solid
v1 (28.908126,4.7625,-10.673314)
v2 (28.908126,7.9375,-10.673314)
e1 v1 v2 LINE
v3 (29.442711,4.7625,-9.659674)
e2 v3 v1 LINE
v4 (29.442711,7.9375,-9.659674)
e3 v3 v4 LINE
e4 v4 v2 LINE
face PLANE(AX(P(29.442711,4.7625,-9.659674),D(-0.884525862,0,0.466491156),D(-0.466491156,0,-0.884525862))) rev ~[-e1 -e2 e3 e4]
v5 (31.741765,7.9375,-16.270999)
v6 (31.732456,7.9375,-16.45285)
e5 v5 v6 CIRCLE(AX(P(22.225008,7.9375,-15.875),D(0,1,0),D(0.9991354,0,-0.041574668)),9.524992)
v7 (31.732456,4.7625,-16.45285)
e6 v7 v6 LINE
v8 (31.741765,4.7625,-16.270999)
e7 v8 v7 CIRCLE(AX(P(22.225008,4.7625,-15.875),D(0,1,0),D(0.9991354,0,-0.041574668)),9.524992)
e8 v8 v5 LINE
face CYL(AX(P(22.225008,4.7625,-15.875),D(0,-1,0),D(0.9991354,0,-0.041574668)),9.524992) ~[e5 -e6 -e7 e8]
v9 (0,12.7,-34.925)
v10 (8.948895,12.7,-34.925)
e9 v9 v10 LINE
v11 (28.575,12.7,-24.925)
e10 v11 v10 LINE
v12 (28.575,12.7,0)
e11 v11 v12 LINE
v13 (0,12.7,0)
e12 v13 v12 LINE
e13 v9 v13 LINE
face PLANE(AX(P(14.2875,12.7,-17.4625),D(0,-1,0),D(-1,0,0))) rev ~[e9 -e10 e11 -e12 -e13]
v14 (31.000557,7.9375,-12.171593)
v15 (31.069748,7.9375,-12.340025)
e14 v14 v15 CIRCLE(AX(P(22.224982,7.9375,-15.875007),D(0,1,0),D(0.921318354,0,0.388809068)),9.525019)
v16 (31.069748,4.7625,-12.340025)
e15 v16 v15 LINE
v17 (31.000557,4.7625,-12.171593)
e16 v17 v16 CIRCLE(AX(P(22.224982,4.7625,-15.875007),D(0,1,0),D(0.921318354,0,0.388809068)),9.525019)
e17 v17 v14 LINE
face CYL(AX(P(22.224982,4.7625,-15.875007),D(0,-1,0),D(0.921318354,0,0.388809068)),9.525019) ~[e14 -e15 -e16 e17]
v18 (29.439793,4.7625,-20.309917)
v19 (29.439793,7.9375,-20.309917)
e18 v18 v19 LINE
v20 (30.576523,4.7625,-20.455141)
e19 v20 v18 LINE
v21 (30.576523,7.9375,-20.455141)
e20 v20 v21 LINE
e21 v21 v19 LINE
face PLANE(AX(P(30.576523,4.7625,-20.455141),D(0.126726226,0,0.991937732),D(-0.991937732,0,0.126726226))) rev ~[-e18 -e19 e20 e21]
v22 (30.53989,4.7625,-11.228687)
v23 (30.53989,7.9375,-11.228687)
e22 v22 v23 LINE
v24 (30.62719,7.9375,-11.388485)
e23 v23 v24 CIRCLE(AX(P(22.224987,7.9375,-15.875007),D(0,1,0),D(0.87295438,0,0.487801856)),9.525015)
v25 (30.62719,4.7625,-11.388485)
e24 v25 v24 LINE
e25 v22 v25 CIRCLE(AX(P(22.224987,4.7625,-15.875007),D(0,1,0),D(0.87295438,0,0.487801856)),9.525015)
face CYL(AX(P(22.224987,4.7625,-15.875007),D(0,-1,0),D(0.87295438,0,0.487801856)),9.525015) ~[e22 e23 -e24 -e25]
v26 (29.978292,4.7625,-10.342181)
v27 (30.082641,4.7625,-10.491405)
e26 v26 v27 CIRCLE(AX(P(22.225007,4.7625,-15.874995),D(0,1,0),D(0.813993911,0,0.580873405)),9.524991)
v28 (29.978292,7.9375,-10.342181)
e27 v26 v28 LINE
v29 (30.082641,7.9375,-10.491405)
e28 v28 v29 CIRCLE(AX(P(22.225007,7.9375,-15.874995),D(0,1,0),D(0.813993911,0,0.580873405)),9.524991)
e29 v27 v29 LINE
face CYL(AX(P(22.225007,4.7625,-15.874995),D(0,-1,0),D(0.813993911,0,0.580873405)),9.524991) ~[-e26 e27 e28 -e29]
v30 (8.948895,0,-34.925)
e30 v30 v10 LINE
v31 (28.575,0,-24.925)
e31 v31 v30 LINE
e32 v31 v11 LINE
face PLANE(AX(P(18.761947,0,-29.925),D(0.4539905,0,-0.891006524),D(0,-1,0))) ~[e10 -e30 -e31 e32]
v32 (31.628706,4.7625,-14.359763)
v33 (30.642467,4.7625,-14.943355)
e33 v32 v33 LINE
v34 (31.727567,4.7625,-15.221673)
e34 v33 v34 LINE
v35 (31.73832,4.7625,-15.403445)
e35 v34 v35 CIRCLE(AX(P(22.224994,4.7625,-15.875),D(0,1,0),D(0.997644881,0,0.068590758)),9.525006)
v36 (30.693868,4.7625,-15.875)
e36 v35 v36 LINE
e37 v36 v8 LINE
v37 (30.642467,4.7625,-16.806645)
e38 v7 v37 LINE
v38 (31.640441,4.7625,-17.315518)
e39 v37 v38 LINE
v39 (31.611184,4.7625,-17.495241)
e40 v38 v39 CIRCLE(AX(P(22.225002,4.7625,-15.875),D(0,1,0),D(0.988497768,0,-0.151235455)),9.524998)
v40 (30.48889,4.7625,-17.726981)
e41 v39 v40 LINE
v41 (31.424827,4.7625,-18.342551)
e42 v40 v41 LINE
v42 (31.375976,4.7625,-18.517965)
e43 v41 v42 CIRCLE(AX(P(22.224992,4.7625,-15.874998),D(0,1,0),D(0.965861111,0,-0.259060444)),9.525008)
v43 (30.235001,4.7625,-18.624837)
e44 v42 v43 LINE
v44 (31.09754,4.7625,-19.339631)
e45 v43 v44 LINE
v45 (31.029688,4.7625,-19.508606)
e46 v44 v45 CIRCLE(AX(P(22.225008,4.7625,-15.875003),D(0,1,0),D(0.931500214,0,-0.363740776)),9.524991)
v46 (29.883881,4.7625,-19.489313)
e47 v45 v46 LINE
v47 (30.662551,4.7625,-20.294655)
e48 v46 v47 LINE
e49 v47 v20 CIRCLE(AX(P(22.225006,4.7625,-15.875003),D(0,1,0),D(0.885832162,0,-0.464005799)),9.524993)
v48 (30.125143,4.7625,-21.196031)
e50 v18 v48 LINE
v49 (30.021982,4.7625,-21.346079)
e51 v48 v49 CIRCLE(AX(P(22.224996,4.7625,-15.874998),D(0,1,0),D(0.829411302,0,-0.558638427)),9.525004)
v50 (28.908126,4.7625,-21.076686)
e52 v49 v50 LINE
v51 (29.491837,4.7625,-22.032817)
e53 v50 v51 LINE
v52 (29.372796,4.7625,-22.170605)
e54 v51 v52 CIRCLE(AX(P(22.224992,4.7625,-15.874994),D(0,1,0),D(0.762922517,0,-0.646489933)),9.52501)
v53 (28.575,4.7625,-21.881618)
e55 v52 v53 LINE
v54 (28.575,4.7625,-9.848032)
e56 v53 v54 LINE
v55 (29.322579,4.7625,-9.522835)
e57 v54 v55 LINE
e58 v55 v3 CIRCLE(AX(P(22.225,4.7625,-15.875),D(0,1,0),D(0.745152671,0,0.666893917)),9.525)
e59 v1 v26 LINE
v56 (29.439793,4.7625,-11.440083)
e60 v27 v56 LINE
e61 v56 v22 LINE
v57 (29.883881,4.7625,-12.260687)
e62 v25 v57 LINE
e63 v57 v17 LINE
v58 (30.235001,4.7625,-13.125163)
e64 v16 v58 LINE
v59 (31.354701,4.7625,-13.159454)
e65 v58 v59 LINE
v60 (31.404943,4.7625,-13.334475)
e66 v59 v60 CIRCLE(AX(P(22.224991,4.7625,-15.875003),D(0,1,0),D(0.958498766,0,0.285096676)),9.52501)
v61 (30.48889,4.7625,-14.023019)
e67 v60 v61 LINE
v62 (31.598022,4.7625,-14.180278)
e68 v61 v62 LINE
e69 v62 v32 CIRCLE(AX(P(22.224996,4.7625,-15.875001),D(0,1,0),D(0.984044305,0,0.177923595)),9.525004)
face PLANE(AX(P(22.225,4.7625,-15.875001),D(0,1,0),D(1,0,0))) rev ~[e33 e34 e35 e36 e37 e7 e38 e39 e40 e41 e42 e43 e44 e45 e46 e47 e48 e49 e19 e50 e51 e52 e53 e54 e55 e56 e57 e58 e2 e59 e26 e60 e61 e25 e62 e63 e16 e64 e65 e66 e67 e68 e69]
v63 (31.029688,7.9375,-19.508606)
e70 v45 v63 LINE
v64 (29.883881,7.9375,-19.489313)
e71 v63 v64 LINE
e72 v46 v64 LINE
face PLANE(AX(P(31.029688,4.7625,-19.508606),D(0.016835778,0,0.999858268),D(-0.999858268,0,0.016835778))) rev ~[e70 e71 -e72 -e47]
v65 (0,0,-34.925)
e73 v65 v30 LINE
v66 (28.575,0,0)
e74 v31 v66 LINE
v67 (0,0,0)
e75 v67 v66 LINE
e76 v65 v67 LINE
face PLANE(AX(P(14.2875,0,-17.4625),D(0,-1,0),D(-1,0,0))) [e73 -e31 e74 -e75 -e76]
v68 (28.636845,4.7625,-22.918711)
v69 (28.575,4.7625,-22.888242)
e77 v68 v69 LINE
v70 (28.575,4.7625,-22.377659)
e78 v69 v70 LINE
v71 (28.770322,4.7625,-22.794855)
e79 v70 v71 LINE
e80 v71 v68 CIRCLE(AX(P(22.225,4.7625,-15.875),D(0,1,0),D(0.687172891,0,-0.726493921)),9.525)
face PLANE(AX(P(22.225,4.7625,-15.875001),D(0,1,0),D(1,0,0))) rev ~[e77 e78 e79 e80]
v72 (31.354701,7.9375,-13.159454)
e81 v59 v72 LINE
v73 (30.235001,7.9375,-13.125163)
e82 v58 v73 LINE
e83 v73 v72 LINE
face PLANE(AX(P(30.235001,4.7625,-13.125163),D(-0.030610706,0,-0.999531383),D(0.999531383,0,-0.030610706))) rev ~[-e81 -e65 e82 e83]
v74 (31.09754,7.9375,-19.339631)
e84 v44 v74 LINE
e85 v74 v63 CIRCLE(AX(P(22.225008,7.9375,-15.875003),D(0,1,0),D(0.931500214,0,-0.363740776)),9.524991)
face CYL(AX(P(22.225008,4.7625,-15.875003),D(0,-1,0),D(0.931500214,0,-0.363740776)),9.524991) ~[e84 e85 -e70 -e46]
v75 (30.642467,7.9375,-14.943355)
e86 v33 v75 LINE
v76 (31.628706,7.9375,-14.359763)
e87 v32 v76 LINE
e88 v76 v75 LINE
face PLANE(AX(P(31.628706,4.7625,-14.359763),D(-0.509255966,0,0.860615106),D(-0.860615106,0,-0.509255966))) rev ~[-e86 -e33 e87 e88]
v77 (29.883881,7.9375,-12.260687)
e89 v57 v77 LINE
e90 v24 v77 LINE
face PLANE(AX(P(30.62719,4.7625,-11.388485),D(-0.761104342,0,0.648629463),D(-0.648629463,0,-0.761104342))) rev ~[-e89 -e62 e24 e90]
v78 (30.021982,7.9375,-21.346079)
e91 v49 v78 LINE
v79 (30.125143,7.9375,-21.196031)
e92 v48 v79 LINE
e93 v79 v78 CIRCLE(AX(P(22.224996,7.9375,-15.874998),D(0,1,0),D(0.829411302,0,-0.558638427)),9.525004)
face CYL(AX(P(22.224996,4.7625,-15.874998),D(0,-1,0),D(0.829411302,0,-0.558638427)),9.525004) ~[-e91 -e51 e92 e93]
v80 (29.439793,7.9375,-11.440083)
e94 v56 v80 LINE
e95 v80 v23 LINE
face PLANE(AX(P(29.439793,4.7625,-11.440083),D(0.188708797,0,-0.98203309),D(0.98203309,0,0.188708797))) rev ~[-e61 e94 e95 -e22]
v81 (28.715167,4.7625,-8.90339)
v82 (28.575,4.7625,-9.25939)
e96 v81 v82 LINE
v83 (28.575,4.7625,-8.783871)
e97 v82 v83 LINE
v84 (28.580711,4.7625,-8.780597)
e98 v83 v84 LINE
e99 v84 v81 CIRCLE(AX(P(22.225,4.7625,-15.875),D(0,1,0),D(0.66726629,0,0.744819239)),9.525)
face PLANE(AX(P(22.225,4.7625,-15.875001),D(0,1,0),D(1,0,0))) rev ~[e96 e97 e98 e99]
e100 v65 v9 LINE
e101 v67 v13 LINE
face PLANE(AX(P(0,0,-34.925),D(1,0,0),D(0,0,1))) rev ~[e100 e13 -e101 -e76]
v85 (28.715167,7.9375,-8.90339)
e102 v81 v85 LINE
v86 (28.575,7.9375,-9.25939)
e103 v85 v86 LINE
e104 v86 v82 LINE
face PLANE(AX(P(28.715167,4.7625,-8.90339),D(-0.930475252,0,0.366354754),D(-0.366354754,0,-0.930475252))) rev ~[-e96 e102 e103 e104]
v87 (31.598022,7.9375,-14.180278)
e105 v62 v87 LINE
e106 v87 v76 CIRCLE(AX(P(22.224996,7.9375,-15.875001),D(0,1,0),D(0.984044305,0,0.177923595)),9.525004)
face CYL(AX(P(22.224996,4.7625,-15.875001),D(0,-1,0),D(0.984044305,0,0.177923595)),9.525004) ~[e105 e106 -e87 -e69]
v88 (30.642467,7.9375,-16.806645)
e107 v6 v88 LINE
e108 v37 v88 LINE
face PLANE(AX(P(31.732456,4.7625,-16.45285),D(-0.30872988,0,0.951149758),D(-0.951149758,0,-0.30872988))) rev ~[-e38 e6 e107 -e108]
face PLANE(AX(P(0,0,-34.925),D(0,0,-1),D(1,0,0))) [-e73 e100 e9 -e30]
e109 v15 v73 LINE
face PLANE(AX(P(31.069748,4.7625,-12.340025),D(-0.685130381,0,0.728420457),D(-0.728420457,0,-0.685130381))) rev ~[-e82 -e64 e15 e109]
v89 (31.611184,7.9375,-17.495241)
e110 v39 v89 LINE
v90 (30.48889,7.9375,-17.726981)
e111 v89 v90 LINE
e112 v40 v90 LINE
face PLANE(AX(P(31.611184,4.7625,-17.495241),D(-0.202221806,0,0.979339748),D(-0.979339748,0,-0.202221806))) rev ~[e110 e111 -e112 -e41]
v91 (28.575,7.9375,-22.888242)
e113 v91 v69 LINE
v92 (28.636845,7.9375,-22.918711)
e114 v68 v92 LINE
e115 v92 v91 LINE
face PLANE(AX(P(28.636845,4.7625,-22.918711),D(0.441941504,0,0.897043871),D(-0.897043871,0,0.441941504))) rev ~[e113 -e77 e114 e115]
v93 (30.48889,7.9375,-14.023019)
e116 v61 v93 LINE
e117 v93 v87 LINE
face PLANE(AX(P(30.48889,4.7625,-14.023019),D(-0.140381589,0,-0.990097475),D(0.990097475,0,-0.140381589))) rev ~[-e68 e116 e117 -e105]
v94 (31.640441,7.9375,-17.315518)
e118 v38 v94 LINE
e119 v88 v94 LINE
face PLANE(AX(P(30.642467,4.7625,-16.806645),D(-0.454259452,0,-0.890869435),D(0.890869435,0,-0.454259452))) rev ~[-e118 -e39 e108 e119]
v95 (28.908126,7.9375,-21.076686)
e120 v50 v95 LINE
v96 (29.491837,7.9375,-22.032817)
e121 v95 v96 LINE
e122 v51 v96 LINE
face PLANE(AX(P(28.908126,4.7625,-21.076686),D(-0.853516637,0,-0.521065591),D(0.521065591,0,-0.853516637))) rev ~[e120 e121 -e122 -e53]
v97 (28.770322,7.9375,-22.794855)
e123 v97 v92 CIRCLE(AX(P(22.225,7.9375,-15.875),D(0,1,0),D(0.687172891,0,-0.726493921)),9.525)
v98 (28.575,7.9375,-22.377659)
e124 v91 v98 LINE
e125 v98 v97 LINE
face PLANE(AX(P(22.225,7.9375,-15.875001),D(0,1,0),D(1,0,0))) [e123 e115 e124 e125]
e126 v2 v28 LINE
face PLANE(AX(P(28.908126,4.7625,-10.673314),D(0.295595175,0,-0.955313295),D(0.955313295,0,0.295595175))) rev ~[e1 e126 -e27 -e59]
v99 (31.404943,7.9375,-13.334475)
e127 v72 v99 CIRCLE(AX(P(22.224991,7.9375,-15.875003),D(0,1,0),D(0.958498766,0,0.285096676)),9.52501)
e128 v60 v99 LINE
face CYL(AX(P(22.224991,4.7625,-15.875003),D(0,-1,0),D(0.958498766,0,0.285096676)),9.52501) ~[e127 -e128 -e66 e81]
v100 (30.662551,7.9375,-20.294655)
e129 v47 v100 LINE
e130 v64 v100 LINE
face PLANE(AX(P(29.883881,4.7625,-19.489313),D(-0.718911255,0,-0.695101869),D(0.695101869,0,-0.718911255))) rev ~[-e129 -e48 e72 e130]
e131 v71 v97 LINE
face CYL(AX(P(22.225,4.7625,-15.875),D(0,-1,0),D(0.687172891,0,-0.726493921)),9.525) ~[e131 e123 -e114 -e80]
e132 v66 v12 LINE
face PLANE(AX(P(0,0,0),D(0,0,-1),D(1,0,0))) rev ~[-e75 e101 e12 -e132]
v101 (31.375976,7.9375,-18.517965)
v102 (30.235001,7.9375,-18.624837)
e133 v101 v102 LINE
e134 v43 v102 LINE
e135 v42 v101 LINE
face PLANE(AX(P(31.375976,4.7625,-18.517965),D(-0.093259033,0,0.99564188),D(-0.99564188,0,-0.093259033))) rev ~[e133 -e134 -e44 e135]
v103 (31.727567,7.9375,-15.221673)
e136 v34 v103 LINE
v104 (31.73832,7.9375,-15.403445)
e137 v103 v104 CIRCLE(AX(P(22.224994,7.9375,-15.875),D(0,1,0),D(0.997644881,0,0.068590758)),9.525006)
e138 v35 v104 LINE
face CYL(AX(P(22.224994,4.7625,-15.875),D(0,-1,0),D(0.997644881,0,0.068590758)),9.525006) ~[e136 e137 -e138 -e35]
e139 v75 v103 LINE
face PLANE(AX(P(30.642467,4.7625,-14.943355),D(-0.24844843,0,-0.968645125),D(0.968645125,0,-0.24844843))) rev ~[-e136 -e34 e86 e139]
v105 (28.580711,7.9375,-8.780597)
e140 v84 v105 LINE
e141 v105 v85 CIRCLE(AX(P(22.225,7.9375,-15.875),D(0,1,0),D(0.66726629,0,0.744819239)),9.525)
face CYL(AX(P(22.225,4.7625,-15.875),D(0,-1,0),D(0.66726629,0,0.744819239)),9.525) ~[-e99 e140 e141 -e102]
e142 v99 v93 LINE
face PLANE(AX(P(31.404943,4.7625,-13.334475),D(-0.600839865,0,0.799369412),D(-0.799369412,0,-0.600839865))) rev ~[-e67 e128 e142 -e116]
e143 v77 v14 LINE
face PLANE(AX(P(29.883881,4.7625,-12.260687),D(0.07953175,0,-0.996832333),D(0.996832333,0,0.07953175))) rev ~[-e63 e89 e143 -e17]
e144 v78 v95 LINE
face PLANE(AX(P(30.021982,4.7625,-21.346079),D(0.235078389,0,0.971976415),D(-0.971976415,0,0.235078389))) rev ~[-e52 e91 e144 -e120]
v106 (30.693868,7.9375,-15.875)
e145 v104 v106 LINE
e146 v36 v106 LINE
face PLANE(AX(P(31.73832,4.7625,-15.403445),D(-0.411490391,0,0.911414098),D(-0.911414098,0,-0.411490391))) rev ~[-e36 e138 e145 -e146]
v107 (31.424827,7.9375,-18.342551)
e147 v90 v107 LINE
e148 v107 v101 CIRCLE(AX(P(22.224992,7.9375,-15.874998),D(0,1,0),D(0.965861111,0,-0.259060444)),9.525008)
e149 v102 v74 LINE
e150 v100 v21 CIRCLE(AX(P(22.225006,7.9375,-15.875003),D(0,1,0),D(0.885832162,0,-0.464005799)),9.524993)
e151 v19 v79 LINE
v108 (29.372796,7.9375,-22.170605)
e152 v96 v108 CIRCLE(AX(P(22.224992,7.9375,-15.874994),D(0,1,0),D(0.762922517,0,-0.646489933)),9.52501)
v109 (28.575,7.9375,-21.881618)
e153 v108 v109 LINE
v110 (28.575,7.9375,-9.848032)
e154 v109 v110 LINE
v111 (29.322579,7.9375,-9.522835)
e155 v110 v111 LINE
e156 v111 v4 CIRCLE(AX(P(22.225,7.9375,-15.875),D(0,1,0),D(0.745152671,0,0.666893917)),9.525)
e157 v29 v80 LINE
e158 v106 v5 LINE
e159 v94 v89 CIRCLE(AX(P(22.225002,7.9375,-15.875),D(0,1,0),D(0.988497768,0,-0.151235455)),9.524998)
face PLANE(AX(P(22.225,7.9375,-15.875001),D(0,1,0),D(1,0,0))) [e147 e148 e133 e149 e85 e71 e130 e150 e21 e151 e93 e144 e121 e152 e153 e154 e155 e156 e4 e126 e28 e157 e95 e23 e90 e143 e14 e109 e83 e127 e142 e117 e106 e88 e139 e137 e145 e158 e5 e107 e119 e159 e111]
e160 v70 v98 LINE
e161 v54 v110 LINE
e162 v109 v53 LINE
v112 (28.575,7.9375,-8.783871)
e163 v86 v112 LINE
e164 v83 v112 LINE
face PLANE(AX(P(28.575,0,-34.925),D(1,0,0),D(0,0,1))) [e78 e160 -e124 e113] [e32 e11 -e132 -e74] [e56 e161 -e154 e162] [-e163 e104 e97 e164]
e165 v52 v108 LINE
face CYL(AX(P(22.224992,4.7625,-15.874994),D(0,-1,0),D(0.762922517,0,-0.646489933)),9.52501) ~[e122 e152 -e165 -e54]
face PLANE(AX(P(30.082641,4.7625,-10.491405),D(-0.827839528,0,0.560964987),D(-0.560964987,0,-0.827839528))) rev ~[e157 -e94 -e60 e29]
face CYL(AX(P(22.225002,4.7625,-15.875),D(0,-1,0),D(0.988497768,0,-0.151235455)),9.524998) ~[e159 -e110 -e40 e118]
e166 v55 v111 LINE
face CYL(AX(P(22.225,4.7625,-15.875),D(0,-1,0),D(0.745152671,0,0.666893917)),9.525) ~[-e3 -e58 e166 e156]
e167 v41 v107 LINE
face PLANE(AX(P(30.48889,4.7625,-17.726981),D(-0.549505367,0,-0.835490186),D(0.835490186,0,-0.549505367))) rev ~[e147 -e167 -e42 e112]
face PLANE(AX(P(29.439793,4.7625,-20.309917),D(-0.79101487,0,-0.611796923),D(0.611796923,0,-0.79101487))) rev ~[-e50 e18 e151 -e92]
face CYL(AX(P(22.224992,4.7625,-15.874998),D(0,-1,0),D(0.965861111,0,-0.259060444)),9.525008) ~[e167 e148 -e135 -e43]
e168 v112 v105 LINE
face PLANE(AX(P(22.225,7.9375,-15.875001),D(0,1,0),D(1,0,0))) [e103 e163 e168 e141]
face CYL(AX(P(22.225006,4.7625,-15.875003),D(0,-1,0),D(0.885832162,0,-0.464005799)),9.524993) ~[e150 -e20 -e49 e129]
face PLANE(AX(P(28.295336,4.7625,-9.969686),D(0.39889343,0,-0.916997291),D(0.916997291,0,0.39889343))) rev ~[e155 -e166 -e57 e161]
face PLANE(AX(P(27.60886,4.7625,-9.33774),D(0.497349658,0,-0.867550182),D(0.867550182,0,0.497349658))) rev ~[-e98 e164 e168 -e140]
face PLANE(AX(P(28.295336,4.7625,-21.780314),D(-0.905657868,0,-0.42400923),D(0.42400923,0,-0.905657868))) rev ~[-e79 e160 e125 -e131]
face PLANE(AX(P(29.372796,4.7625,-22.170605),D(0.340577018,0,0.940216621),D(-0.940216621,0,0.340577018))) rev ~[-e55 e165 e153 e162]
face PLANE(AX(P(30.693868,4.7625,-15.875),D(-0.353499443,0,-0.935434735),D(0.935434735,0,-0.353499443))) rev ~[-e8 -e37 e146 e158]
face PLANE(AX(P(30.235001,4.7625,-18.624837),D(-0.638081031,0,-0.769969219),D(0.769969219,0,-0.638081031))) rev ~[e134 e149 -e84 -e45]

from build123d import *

# Parameters (mm, degrees)
BOSS_EXTRUDE3_DEPTH = 12.7
BOSS_EXTRUDE5_DEPTH = 3.175
CHAMFER1_SIZE       = 10
CHAMFER1_SIZE2      = 19.626105055


with BuildPart() as part:
    # Sketch1 → Boss-Extrude3 (new body)
    with BuildSketch(Plane(origin=(0, 0, 0), x_dir=(1, 0, 0), z_dir=(0, 1, 0))):
        Polygon((0, 20.6375), (0, 34.925), (28.575, 34.925), (28.575, 0), (12.7, 0), (7.9375, 0), (0, 0), (0, 15.875), align=None)
    extrude(amount=BOSS_EXTRUDE3_DEPTH)

    # Sketch8 → Boss-Extrude5 (add)
    with BuildSketch(Plane(origin=(0, 4.7625, 0), x_dir=(1, 0, 0), z_dir=(0, 1, 0))):
        with BuildLine():
            Line((31.738320164, 15.403444634), (30.693867565, 15.875))
            Line((30.693867565, 15.875), (31.741764678, 16.270998814))
            ThreePointArc((31.741764678, 16.270998814), (31.737544766, 16.361946694), (31.732455721, 16.452850083))
            Line((31.732455721, 16.452850083), (30.642467275, 16.806645055))
            Line((30.642467275, 16.806645055), (31.640441237, 17.315517721))
            ThreePointArc((31.640441237, 17.315517721), (31.626241922, 17.405449384), (31.611183644, 17.495241214))
            Line((31.611183644, 17.495241214), (30.488890335, 17.7269812))
            Line((30.488890335, 17.7269812), (31.424827094, 18.342550695))
            ThreePointArc((31.424827094, 18.342550695), (31.400820737, 18.430374492), (31.375976014, 18.517964812))
            Line((31.375976014, 18.517964812), (30.235000961, 18.624836803))
            Line((30.235000961, 18.624836803), (31.097539513, 19.339630946))
            ThreePointArc((31.097539513, 19.339630946), (31.064017519, 19.424280815), (31.02968793, 19.508606397))
            Line((31.02968793, 19.508606397), (29.883881026, 19.489313112))
            Line((29.883881026, 19.489313112), (30.662551321, 20.29465527))
            ThreePointArc((30.662551321, 20.29465527), (30.619920601, 20.375103677), (30.576522862, 20.455140923))
            Line((30.576522862, 20.455140923), (29.43979265, 20.309916556))
            Line((29.43979265, 20.309916556), (30.125142686, 21.196030966))
            ThreePointArc((30.125142686, 21.196030966), (30.073920719, 21.271301376), (30.02198162, 21.346078743))
            Line((30.02198162, 21.346078743), (28.908126465, 21.076686121))
            Line((28.908126465, 21.076686121), (29.49183702, 22.032816555))
            ThreePointArc((29.49183702, 22.032816555), (29.432645572, 22.101995287), (29.372795584, 22.170605078))
            Line((29.372795584, 22.170605078), (28.295336177, 21.780314262))
            Line((28.295336177, 21.780314262), (28.770321797, 22.794854592))
            ThreePointArc((28.770321797, 22.794854592), (28.703879372, 22.85710191), (28.636844991, 22.918711295))
            Line((28.636844991, 22.918711295), (27.608860232, 22.412259888))
            Line((27.608860232, 22.412259888), (27.969355234, 23.472894968))
            ThreePointArc((27.969355234, 23.472894968), (27.896468352, 23.527455275), (27.823063286, 23.581316399))
            Line((27.823063286, 23.581316399), (26.857031516, 22.964852035))
            Line((26.857031516, 22.964852035), (27.098659979, 24.058707192))
            ThreePointArc((27.098659979, 24.058707192), (27.02021339, 24.104918198), (26.941328676, 24.150377261))
            Line((26.941328676, 24.150377261), (26.048976213, 23.431382982))
            Line((26.048976213, 23.431382982), (26.168805095, 24.545180296))
            ThreePointArc((26.168805095, 24.545180296), (26.085751033, 24.582481063), (26.002344225, 24.618986254))
            Line((26.002344225, 24.618986254), (25.194503018, 23.806189675))
            Line((25.194503018, 23.806189675), (25.191077759, 24.926409157))
            ThreePointArc((25.191077759, 24.926409157), (25.104424388, 24.954346904), (25.017507932, 24.981455098))
            Line((25.017507932, 24.981455098), (24.30398408, 24.08472247))
            Line((24.30398408, 24.08472247), (24.177346257, 25.197766172))
            ThreePointArc((24.177346257, 25.197766172), (24.088145431, 25.216001772), (23.998774375, 25.233383913))
            Line((23.998774375, 25.233383913), (23.388229091, 24.263600355))
            Line((23.388229091, 24.263600355), (23.139915917, 25.355957434))
            ThreePointArc((23.139915917, 25.355957434), (23.049250413, 25.364269532), (22.9585096, 25.371714625))
            Line((22.9585096, 25.371714625), (22.458354076, 24.340651996))
            Line((22.458354076, 24.340651996), (22.091379736, 25.399062716))
            ThreePointArc((22.091379736, 25.399062716), (22.000350112, 25.397350415), (21.909341013, 25.394768086))
            Line((21.909341013, 25.394768086), (21.52564646, 24.314942089))
            Line((21.52564646, 24.314942089), (21.044465525, 25.326558779))
            ThreePointArc((21.044465525, 25.326558779), (20.954176755, 25.314842863), (20.864004098, 25.302264458))
            Line((20.864004098, 25.302264458), (20.601428047, 24.186782718))
            Line((20.601428047, 24.186782718), (20.011881402, 25.139325721))
            ThreePointArc((20.011881402, 25.139325721), (19.923429472, 25.117748406), (19.835187829, 25.09532661))
            Line((19.835187829, 25.09532661), (19.696917599, 23.957729565))
            Line((19.696917599, 23.957729565), (19.006161542, 24.839636299))
            ThreePointArc((19.006161542, 24.839636299), (18.920620137, 24.808459505), (18.835380643, 24.776466487))
            Line((18.835380643, 24.776466487), (18.823094647, 23.630563023))
            Line((18.823094647, 23.630563023), (18.03951402, 24.431128337))
            ThreePointArc((18.03951402, 24.431128337), (17.957921497, 24.390730506), (17.876718844, 24.349554619))
            Line((17.876718844, 24.349554619), (17.990566217, 23.209254453))
            Line((17.990566217, 23.209254453), (17.123672628, 23.918760566))
            ThreePointArc((17.123672628, 23.918760566), (17.04701941, 23.869632075), (16.970839288, 23.819773138))
            Line((16.970839288, 23.819773138), (17.209438078, 22.698917969))
            Line((17.209438078, 22.698917969), (16.26975444, 23.308752439))
            ThreePointArc((16.26975444, 23.308752439), (16.198970993, 23.25148964), (16.128738126, 23.193552874))
            Line((16.128738126, 23.193552874), (16.489192065, 22.105748364))
            Line((16.489192065, 22.105748364), (15.488124866, 22.608508627))
            ThreePointArc((15.488124866, 22.608508627), (15.424070405, 22.543806613), (15.360637325, 22.478495291))
            Line((15.360637325, 22.478495291), (15.838570992, 21.436945915))
            Line((15.838570992, 21.436945915), (14.78827183, 21.826529142))
            ThreePointArc((14.78827183, 21.826529142), (14.73172389, 21.755173308), (14.675860587, 21.683280221))
            Line((14.675860587, 21.683280221), (15.265472515, 20.700628977))
            Line((15.265472515, 20.700628977), (14.1786906, 20.972306155))
            ThreePointArc((14.1786906, 20.972306155), (14.130335596, 20.895162665), (14.082720176, 20.817560498))
            Line((14.082720176, 20.817560498), (14.776853274, 19.90573544))
            Line((14.776853274, 19.90573544), (13.666780666, 20.056208776))
            ThreePointArc((13.666780666, 20.056208776), (13.627205562, 19.974214047), (13.588416012, 19.891844785))
            Line((13.588416012, 19.891844785), (14.378644445, 19.061914235))
            Line((14.378644445, 19.061914235), (13.258755922, 19.089357187))
            ThreePointArc((13.258755922, 19.089357187), (13.228441106, 19.003506523), (13.198948279, 18.917370018))
            Line((13.198948279, 18.917370018), (14.075679743, 18.179408208))
            Line((14.075679743, 18.179408208), (12.959569234, 18.083487656))
            ThreePointArc((12.959569234, 18.083487656), (12.938882688, 17.994823169), (12.919044586, 17.905965))
            Line((12.919044586, 17.905965), (13.87163675, 17.268929787))
            Line((13.87163675, 17.268929787), (12.772852325, 17.050810077))
            ThreePointArc((12.772852325, 17.050810077), (12.762045155, 16.960408033), (12.752102586, 16.869906818))
            Line((12.752102586, 16.869906818), (13.768992271, 16.341530947))
            Line((13.768992271, 16.341530947), (12.700871685, 16.003859756))
            ThreePointArc((12.700871685, 16.003859756), (12.700075075, 15.912817513), (12.700148728, 15.821771815))
            Line((12.700148728, 15.821771815), (13.768992271, 15.408469053))
            Line((13.768992271, 15.408469053), (12.74450106, 14.955345252))
            ThreePointArc((12.74450106, 14.955345252), (12.75372468, 14.86476794), (12.763813661, 14.774282931))
            Line((12.763813661, 14.774282931), (13.87163675, 14.481070213))
            Line((13.87163675, 14.481070213), (12.90321085, 13.917994111))
            ThreePointArc((12.90321085, 13.917994111), (12.922342738, 13.828981216), (12.942324581, 13.74015526))
            Line((12.942324581, 13.74015526), (14.075679743, 13.570591792))
            Line((14.075679743, 13.570591792), (13.175074533, 12.90439837))
            ThreePointArc((13.175074533, 12.90439837), (13.203882453, 12.818030388), (13.233514605, 12.731941713))
            Line((13.233514605, 12.731941713), (14.378644445, 12.688085765))
            Line((14.378644445, 12.688085765), (13.556792052, 11.926861709))
            ThreePointArc((13.556792052, 11.926861709), (13.594926315, 11.844187031), (13.633849082, 11.761880635))
            Line((13.633849082, 11.761880635), (14.776853274, 11.84426456))
            Line((14.776853274, 11.84426456), (14.043729872, 10.997250099))
            ThreePointArc((14.043729872, 10.997250099), (14.090727581, 10.919272282), (14.138468493, 10.841747255))
            Line((14.138468493, 10.841747255), (15.265472515, 11.049371023))
            Line((15.265472515, 11.049371023), (14.62997723, 10.126847765))
            ThreePointArc((14.62997723, 10.126847765), (14.685267895, 10.054513355), (14.741247443, 9.982710745))
            Line((14.741247443, 9.982710745), (15.838570992, 10.313054085))
            Line((15.838570992, 10.313054085), (15.308417875, 9.326220212))
            ThreePointArc((15.308417875, 9.326220212), (15.371330343, 9.260407251), (15.43486901, 9.195198645))
            Line((15.43486901, 9.195198645), (16.489192065, 9.644251636))
            Line((16.489192065, 9.644251636), (16.070816458, 8.605085975))
            ThreePointArc((16.070816458, 8.605085975), (16.140587057, 8.546593343), (16.21091357, 8.488770284))
            Line((16.21091357, 8.488770284), (17.209438078, 9.051082031))
            Line((17.209438078, 9.051082031), (16.907918492, 7.972198646))
            ThreePointArc((16.907918492, 7.972198646), (16.983700301, 7.921736364), (17.059960992, 7.872000747))
            Line((17.059960992, 7.872000747), (17.990566217, 8.540745547))
            Line((17.990566217, 8.540745547), (17.809562694, 7.43524062))
            ThreePointArc((17.809562694, 7.43524062), (17.890435824, 7.393421231), (17.971704991, 7.352376779))
            Line((17.971704991, 7.352376779), (18.823094647, 8.119436977))
            Line((18.823094647, 8.119436977), (18.764804323, 7.00072984))
            ThreePointArc((18.764804323, 7.00072984), (18.849787085, 6.968060976), (18.93507823, 6.936205912))
            Line((18.93507823, 6.936205912), (19.696917599, 7.792270435))
            Line((19.696917599, 7.792270435), (19.76204804, 6.673940678))
            ThreePointArc((19.76204804, 6.673940678), (19.850108857, 6.650818895), (19.938386662, 6.628539897))
            Line((19.938386662, 6.628539897), (20.601428047, 7.563217282))
            Line((20.601428047, 7.563217282), (20.789188657, 6.458839913))
            ThreePointArc((20.789188657, 6.458839913), (20.879258592, 6.445545877), (20.969451482, 6.433113381))
            Line((20.969451482, 6.433113381), (21.52564646, 7.435057911))
            Line((21.52564646, 7.435057911), (21.833758079, 6.358038575))
            ThreePointArc((21.833758079, 6.358038575), (21.924743803, 6.354733658), (22.015756961, 6.352298579))
            Line((22.015756961, 6.352298579), (22.458354076, 7.409348004))
            Line((22.458354076, 7.409348004), (22.883076648, 6.372760257))
            Line((22.883076648, 6.372760257), (23.064602367, 6.387076472))
            Line((23.064602367, 6.387076472), (23.388229091, 7.486399645))
            Line((23.388229091, 7.486399645), (23.924407058, 6.502826258))
            ThreePointArc((23.924407058, 6.502826258), (24.013913322, 6.519498189), (24.103256138, 6.537024905))
            Line((24.103256138, 6.537024905), (24.30398408, 7.66527753))
            Line((24.30398408, 7.66527753), (24.945108969, 6.746657752))
            Line((24.945108969, 6.746657752), (25.119110423, 6.800323705))
            Line((25.119110423, 6.800323705), (25.194503018, 7.943810325))
            Line((25.194503018, 7.943810325), (25.932792441, 7.101294955))
            ThreePointArc((25.932792441, 7.101294955), (26.016486493, 7.137136693), (26.099834128, 7.173776783))
            Line((26.099834128, 7.173776783), (26.048976213, 8.318617018))
            Line((26.048976213, 8.318617018), (26.875468336, 7.562433052))
            ThreePointArc((26.875468336, 7.562433052), (26.954711536, 7.607264289), (27.033522596, 7.652850923))
            Line((27.033522596, 7.652850923), (26.857031516, 8.785147965))
            Line((26.857031516, 8.785147965), (27.761693845, 8.124474452))
            ThreePointArc((27.761693845, 8.124474452), (27.835524287, 8.177750997), (27.908842114, 8.231730816))
            Line((27.908842114, 8.231730816), (27.608860232, 9.337740112))
            Line((27.608860232, 9.337740112), (28.58071139, 8.780596732))
            ThreePointArc((28.58071139, 8.780596732), (28.648232874, 8.84167188), (28.715167487, 8.903389642))
            Line((28.715167487, 8.903389642), (28.295336177, 9.969685738))
            Line((28.295336177, 9.969685738), (29.322579209, 9.522835458))
            ThreePointArc((29.322579209, 9.522835458), (29.382972116, 9.59096784), (29.44271102, 9.659674374))
            Line((29.44271102, 9.659674374), (28.908126465, 10.673313879))
            Line((28.908126465, 10.673313879), (29.978292032, 10.342180857))
            ThreePointArc((29.978292032, 10.342180857), (30.030823272, 10.416543437), (30.082641317, 10.49140474))
            Line((30.082641317, 10.49140474), (29.43979265, 11.440083444))
            Line((29.43979265, 11.440083444), (30.539890392, 11.228687185))
            ThreePointArc((30.539890392, 11.228687185), (30.583922307, 11.308377303), (30.627190494, 11.388484659))
            Line((30.627190494, 11.388484659), (29.883881026, 12.260686888))
            Line((29.883881026, 12.260686888), (31.000557246, 12.171593456))
            ThreePointArc((31.000557246, 12.171593456), (31.035555349, 12.255643782), (31.06974846, 12.340024797))
            Line((31.06974846, 12.340024797), (30.235000961, 13.125163197))
            Line((30.235000961, 13.125163197), (31.354700723, 13.159454066))
            ThreePointArc((31.354700723, 13.159454066), (31.380240185, 13.246844343), (31.404943161, 13.334474745))
            Line((31.404943161, 13.334474745), (30.488890335, 14.0230188))
            Line((30.488890335, 14.0230188), (31.598022, 14.180277726))
            ThreePointArc((31.598022, 14.180277726), (31.613792806, 14.269947153), (31.628705787, 14.359763229))
            Line((31.628705787, 14.359763229), (30.642467275, 14.943354945))
            Line((30.642467275, 14.943354945), (31.727567487, 15.221673018))
            ThreePointArc((31.727567487, 15.221673018), (31.733378201, 15.31253313), (31.738320164, 15.403444634))
        make_face()
    extrude(amount=BOSS_EXTRUDE5_DEPTH)

    # Chamfer1
    chamfer1_edges = [part.edges().sort_by_distance(p)[0] for p in [
        (28.575, 6.35, -34.925),
    ]]
    chamfer1_side = [part.faces().sort_by_distance(p)[0] for p in [
        (28.575, 6.35, -34.553375778),
    ]]
    chamfer(chamfer1_edges, length=CHAMFER1_SIZE, length2=CHAMFER1_SIZE2, reference=chamfer1_side[0])


solid = part.part
